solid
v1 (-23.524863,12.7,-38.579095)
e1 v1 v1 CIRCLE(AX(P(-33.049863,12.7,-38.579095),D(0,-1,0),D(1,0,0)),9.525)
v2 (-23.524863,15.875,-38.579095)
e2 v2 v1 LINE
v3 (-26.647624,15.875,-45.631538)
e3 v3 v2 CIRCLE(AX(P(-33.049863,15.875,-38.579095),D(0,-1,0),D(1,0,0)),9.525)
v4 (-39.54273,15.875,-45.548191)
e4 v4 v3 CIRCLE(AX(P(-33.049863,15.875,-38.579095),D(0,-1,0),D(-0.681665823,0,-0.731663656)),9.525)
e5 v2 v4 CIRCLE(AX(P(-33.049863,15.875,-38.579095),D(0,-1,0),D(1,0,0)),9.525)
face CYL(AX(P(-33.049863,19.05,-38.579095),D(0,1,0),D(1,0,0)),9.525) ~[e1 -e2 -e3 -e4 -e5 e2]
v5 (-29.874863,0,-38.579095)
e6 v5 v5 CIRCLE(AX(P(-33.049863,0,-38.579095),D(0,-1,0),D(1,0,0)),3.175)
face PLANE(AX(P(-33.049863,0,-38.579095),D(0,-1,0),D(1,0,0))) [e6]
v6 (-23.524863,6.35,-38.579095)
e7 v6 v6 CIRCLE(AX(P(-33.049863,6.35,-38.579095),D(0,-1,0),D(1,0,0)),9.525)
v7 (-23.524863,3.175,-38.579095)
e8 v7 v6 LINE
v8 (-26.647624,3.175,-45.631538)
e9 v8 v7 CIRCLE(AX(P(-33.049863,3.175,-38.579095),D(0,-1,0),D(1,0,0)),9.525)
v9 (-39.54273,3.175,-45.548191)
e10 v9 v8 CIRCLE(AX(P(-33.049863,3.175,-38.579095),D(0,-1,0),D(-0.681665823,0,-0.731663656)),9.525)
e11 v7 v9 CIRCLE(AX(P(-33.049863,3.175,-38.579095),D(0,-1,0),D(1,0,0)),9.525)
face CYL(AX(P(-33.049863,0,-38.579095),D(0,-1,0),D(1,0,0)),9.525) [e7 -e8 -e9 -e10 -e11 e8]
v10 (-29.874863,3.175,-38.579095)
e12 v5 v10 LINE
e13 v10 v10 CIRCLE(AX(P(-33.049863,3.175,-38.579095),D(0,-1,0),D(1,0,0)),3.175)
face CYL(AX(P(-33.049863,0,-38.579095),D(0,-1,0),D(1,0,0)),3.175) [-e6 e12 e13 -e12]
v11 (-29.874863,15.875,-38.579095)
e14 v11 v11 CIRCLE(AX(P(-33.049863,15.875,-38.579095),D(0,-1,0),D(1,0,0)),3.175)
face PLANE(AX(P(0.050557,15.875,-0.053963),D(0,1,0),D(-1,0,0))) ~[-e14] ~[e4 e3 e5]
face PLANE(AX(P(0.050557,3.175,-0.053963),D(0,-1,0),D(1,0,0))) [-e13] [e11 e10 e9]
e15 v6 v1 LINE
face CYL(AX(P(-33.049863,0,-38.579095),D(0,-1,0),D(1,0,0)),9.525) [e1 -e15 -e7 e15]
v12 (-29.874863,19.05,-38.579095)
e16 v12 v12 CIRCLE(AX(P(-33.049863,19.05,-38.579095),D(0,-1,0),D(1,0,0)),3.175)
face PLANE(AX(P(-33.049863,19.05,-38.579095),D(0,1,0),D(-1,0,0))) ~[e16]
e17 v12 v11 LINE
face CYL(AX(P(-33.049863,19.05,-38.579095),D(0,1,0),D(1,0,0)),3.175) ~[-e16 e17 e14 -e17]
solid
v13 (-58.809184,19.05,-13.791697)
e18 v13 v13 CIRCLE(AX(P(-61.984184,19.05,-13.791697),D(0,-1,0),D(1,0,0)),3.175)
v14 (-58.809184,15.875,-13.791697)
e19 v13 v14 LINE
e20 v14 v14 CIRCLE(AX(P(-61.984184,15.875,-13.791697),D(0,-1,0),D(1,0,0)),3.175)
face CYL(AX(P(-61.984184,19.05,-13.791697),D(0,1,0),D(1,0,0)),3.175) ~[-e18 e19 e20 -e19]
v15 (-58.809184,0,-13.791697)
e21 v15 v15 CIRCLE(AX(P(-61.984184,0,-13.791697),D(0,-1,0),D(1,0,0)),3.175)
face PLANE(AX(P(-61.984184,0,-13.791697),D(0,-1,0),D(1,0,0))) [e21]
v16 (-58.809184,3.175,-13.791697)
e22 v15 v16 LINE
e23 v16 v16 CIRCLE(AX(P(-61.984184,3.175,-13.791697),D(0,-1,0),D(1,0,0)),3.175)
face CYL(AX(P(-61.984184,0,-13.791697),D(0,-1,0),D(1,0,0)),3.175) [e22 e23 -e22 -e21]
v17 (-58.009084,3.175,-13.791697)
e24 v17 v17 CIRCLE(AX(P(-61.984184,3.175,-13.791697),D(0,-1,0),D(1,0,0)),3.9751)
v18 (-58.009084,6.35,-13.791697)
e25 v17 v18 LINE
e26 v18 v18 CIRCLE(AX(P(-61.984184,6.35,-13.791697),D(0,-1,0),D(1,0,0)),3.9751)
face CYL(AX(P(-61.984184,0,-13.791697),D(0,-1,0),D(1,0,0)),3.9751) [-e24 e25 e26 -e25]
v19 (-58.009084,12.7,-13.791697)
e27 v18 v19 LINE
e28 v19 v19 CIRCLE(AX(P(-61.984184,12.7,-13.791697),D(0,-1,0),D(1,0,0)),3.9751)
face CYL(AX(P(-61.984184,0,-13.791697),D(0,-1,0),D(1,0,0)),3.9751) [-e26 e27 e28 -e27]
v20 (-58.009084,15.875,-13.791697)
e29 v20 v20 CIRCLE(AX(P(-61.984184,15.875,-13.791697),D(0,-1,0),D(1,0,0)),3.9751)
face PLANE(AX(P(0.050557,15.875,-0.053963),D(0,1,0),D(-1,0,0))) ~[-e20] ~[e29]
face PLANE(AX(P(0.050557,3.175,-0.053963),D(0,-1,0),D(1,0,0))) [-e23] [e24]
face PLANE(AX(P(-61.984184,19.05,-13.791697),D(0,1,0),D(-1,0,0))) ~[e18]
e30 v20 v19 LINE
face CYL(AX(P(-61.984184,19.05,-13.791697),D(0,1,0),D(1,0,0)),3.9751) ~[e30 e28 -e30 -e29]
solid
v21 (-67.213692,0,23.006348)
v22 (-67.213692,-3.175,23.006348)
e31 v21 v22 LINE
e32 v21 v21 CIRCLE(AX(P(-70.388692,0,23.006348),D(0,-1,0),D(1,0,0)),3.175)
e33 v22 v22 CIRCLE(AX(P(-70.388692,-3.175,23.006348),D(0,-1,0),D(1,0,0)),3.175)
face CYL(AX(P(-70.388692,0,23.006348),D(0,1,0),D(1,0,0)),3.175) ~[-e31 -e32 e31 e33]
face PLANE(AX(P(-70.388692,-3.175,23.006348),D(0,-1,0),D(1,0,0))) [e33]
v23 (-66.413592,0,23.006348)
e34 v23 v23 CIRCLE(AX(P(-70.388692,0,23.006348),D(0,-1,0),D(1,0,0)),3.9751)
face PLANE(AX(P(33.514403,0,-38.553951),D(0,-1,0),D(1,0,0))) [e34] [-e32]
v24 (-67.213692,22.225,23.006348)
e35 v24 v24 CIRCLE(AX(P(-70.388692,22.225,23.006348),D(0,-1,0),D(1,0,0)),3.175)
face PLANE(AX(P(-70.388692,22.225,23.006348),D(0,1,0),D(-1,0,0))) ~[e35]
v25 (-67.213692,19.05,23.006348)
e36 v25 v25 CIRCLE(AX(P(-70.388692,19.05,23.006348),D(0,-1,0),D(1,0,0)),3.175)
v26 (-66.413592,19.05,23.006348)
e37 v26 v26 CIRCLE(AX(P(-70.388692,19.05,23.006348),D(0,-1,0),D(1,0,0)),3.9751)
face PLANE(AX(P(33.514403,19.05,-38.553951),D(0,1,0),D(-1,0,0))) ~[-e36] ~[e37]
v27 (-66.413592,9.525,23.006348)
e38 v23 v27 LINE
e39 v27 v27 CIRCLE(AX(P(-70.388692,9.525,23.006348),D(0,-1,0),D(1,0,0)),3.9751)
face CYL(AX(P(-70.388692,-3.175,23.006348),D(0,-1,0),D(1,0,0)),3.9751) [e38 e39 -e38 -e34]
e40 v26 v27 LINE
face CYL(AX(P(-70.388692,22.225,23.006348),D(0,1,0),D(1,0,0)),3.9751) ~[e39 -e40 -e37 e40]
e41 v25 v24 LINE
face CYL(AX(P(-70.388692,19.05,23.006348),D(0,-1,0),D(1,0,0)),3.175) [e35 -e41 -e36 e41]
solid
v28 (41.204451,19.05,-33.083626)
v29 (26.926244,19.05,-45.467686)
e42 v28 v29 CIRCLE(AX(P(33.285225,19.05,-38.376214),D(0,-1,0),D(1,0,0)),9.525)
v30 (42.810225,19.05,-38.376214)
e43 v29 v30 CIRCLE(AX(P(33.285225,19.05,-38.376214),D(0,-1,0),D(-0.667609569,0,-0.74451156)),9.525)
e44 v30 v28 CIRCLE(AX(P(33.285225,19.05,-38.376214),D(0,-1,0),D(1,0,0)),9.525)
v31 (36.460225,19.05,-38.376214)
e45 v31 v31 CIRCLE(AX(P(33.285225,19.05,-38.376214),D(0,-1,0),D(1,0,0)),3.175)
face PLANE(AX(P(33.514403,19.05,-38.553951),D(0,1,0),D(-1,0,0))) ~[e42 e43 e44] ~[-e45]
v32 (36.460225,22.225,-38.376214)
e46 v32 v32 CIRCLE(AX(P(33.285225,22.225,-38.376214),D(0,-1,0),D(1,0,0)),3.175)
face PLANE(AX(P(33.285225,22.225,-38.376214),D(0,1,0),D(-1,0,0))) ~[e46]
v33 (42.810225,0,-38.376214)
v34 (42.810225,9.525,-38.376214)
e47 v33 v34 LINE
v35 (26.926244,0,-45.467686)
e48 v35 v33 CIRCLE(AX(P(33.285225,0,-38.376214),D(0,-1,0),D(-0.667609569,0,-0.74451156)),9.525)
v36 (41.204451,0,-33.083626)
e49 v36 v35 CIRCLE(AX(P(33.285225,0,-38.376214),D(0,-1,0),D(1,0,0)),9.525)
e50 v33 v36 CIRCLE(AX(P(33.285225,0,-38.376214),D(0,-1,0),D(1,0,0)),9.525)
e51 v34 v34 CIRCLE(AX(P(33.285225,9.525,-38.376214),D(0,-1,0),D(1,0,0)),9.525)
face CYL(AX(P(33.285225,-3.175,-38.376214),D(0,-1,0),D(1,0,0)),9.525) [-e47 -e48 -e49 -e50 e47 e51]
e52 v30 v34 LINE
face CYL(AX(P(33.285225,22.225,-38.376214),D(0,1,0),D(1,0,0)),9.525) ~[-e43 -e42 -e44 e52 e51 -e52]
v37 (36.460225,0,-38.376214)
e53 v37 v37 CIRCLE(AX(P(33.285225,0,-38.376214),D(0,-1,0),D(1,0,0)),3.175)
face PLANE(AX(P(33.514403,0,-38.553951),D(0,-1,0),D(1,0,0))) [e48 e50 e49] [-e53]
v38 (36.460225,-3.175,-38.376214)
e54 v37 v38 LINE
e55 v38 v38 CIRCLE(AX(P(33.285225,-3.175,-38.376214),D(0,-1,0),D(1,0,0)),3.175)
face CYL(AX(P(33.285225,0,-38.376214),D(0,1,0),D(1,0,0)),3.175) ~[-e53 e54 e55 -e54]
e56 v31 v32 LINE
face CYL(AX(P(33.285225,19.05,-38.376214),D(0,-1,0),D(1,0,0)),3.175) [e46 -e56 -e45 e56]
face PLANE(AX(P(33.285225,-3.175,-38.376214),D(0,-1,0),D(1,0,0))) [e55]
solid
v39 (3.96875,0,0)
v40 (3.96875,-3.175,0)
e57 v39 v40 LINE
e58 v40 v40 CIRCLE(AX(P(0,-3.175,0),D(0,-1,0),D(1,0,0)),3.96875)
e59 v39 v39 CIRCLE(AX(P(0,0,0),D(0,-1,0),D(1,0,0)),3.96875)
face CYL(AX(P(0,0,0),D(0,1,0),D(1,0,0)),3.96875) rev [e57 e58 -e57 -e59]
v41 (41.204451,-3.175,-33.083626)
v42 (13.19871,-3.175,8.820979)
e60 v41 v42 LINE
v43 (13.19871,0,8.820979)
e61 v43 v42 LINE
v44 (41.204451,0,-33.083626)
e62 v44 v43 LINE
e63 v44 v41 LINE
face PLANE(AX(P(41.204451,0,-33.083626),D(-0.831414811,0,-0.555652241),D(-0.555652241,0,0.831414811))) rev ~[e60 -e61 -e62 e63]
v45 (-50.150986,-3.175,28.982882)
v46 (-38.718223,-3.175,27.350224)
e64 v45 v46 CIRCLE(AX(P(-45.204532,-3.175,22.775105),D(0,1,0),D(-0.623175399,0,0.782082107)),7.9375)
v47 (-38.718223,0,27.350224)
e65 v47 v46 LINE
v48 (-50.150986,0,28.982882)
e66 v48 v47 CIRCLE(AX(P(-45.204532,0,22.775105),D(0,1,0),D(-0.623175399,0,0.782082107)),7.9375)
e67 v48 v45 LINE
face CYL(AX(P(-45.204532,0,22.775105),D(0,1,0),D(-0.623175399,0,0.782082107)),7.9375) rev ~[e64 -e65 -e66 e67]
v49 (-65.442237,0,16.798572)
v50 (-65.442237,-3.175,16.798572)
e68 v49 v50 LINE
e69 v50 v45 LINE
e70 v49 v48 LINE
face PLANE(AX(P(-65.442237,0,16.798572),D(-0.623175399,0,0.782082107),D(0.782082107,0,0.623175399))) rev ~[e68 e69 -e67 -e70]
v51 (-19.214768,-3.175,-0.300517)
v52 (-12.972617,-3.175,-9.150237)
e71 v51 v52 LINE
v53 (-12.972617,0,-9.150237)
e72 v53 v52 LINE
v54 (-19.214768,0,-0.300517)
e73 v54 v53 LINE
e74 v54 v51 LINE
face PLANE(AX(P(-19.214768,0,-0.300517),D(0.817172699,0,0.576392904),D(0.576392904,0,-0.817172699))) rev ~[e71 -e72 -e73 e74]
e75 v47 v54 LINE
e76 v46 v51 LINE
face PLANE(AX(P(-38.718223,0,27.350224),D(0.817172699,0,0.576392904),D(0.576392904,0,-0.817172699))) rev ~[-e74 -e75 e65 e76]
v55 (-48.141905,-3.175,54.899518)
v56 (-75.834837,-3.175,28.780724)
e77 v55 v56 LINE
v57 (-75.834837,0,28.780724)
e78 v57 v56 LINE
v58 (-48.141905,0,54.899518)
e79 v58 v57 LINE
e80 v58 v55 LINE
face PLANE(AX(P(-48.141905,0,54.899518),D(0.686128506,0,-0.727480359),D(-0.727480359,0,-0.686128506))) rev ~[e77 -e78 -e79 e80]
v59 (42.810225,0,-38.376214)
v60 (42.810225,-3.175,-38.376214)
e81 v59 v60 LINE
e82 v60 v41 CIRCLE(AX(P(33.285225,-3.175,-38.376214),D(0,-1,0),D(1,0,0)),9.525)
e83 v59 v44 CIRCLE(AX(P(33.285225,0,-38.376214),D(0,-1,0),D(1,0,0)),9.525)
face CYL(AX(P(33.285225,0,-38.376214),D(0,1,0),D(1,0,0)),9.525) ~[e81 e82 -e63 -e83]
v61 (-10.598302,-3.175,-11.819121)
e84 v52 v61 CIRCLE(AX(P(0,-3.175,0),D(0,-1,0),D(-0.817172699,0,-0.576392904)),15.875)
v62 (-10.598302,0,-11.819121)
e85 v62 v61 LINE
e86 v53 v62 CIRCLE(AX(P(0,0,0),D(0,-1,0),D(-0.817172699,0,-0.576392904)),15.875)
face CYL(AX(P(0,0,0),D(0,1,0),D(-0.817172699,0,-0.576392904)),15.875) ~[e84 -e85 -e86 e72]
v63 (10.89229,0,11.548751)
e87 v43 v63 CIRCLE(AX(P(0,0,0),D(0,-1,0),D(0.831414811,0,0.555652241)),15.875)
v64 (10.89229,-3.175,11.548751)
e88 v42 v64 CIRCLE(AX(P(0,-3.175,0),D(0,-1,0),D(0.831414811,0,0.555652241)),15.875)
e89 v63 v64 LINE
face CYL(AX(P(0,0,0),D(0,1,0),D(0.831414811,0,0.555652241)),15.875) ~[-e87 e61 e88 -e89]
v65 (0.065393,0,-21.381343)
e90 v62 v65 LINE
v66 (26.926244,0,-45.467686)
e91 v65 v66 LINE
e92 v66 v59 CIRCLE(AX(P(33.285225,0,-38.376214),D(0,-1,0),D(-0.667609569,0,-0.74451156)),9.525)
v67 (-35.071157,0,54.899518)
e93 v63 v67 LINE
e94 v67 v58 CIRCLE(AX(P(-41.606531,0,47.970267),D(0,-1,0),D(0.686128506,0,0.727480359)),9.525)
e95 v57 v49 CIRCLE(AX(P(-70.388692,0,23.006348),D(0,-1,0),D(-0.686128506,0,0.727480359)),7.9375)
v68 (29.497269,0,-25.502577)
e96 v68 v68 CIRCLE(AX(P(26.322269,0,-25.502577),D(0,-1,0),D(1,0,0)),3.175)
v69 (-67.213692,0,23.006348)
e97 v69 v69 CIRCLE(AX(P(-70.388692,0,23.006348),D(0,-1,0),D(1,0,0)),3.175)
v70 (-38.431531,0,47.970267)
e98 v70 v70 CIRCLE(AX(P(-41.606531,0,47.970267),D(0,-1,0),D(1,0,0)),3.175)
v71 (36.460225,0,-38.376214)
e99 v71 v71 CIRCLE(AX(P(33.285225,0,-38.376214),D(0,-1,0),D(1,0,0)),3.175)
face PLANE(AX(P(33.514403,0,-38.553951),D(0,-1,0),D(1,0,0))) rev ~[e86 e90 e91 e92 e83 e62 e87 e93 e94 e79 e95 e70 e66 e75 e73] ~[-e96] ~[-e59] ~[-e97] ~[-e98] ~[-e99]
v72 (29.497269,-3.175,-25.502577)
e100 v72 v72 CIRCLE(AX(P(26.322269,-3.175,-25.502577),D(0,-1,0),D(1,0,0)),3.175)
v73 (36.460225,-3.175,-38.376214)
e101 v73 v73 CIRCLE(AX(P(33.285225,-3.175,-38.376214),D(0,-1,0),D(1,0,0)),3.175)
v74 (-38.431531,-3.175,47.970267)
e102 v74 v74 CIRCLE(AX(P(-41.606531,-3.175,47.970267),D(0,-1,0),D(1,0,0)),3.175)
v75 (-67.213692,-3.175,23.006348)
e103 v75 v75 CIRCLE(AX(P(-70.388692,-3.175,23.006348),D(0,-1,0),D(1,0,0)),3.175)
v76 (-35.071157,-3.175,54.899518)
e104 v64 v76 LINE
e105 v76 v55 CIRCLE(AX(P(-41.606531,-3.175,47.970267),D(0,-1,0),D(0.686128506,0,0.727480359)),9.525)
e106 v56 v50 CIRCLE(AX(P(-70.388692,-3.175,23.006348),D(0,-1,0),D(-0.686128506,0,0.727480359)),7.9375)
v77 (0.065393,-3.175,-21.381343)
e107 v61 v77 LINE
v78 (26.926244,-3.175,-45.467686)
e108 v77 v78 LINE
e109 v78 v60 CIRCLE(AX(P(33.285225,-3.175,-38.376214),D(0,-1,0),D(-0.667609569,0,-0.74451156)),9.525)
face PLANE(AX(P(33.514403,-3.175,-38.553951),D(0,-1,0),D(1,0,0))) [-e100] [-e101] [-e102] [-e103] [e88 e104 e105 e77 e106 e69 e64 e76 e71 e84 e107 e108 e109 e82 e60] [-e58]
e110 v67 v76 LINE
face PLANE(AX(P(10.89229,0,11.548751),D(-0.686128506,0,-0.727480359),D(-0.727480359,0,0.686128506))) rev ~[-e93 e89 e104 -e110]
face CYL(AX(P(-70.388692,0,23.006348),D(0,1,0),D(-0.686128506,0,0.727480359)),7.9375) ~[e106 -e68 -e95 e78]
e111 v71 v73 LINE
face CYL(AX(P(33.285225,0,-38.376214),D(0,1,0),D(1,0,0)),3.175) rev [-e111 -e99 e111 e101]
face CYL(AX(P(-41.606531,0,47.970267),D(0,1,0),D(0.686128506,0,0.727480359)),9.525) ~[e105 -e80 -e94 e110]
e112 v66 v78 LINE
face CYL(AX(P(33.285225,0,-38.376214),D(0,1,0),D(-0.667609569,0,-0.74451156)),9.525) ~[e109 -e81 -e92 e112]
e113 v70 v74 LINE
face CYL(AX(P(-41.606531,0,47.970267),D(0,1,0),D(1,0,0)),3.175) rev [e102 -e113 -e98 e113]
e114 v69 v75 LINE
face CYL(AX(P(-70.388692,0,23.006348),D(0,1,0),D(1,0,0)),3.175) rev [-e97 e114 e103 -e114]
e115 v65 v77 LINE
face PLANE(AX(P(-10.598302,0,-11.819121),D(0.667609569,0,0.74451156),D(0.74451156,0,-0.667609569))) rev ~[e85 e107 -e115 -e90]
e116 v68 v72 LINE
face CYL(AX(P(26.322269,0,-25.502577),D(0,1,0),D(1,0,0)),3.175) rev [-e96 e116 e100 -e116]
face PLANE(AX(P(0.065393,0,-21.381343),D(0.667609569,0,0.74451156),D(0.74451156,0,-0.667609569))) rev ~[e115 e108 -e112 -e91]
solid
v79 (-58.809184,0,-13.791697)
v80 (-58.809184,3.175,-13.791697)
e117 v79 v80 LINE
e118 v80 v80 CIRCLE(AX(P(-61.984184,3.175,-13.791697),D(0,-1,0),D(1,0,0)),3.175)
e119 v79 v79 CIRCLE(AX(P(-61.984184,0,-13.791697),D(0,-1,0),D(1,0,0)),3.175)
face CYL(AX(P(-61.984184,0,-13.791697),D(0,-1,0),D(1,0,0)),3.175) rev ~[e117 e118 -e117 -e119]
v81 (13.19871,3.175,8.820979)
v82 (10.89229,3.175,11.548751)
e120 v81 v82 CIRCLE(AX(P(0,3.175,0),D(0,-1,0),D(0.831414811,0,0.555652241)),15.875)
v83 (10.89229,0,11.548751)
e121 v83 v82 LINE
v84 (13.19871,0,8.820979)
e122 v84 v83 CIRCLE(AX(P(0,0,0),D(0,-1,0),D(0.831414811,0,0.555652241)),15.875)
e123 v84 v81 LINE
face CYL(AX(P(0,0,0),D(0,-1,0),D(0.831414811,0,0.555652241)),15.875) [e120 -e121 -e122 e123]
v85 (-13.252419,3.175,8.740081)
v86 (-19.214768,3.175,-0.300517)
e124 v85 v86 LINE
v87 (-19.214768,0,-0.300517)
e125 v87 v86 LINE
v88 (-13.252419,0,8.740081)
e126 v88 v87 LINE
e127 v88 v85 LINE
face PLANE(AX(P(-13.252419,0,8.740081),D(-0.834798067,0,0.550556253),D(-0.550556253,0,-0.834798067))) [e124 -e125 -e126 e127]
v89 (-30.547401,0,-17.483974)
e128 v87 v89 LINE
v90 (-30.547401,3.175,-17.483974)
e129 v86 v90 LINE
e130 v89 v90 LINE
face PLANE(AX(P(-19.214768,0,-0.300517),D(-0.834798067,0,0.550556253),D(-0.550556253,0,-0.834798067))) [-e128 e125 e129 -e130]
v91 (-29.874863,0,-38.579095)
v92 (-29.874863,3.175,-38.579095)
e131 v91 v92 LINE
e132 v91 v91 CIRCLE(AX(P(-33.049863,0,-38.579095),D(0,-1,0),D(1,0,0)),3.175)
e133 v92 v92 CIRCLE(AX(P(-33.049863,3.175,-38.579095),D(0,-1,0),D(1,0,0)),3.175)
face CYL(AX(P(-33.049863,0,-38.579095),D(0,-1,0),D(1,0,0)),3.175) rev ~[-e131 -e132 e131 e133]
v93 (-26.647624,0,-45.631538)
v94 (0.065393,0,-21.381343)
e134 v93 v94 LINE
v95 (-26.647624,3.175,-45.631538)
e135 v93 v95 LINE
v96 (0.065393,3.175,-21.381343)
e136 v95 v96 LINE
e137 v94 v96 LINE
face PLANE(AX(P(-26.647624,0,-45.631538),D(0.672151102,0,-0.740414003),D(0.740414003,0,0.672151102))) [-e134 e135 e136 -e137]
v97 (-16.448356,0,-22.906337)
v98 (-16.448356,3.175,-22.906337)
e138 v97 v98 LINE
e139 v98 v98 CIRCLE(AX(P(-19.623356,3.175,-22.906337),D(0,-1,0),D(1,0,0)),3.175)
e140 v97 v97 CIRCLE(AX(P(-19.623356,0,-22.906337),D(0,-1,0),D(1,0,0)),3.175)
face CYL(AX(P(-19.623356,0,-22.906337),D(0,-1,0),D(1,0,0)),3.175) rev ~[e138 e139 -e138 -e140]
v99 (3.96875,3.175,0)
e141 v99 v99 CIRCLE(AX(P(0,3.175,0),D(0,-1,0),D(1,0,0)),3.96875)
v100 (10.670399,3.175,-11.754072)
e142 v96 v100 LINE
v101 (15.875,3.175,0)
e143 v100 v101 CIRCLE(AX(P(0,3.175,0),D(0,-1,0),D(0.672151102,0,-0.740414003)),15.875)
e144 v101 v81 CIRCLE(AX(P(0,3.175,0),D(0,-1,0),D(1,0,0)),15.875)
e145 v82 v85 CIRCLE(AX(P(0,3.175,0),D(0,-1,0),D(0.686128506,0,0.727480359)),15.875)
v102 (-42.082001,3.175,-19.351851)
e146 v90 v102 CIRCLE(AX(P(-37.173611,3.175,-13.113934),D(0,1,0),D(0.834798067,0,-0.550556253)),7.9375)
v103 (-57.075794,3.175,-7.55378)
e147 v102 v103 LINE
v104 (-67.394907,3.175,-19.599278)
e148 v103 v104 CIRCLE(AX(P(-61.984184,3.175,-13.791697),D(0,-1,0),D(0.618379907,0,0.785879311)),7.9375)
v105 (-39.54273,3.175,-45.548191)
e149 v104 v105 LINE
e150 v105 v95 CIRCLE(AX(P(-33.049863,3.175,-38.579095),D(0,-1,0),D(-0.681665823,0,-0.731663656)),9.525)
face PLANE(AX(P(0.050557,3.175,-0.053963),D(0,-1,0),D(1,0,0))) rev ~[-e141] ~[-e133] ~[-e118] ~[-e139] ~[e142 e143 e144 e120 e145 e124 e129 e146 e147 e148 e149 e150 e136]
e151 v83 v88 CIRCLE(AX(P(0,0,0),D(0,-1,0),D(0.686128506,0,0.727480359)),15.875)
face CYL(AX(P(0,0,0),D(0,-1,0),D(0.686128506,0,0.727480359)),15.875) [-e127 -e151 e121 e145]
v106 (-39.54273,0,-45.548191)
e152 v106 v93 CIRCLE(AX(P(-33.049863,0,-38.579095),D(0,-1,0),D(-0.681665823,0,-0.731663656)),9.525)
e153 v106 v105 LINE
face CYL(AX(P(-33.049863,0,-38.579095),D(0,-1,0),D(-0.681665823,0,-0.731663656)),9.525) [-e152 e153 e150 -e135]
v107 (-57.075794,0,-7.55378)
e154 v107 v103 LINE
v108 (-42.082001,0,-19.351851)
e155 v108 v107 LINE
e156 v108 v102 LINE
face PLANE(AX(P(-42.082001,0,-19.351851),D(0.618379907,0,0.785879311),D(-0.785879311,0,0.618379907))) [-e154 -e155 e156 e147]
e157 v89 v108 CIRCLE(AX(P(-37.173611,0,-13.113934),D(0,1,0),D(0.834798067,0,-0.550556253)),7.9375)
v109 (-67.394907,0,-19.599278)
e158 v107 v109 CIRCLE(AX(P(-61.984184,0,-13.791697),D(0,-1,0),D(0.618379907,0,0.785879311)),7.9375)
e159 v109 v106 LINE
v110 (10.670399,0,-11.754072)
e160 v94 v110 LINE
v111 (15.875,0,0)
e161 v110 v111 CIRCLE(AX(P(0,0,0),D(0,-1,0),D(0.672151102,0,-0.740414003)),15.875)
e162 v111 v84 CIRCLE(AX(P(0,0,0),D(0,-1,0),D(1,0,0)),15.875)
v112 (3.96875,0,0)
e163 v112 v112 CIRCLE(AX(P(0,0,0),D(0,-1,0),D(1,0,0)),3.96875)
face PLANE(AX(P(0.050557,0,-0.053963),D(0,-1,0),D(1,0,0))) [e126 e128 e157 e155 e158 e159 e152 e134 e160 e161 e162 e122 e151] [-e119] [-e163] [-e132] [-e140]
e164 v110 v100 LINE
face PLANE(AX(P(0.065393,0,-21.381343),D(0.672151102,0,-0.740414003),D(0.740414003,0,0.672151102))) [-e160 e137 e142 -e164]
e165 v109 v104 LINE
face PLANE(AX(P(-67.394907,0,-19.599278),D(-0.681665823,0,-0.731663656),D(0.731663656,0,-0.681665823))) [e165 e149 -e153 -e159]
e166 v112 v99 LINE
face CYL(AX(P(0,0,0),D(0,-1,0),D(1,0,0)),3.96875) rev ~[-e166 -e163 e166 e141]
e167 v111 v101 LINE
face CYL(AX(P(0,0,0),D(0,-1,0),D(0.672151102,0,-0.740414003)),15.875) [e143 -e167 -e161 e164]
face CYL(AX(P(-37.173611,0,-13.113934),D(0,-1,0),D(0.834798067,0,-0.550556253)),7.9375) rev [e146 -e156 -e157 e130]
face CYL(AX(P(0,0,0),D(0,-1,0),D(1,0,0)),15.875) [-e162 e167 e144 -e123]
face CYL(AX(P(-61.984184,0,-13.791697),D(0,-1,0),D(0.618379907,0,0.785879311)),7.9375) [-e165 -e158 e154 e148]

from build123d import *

# Parameters (mm, degrees)
F0_R     = 3.175
F0_R_2   = 3.96875
F2_DEPTH = 3.175
F3_DEPTH = 3.175
F4_R     = 9.525
F6_DEPTH = 12.7
F4_R_2   = 3.9751
F5_R     = 9.525
F5_R_2   = 3.9751


with BuildPart() as f2:
    # F0 (on Front) → F2 (new body)
    with BuildSketch(Plane.XZ):
        with BuildLine():
            ThreePointArc((26.9262440233, -45.4676864135), (37.1682864336, -47.0737686401), (42.8102251661, -38.3762138003))
            ThreePointArc((42.8102251661, -38.3762138003), (42.3999454948, -35.6108027404), (41.2044512386, -33.0836262089))
            ThreePointArc((41.2044512386, -33.0836262089), (27.0442454474, -31.1806737127), (26.9262440233, -45.4676864135))
        make_face()
        with Locations((33.2852251661, -38.3762138003)):
            Circle(F0_R, mode=Mode.SUBTRACT)
        with BuildLine():
            ThreePointArc((-32.0815314576, 47.9702672503), (-32.8608164346, 51.7436071154), (-35.0711574392, 54.8995176744))
            ThreePointArc((-35.0711574392, 54.8995176744), (-41.6065314576, 57.4952672503), (-48.1419054761, 54.8995176744))
            ThreePointArc((-48.1419054761, 54.8995176744), (-45.3798713227, 39.2245522274), (-32.0815314576, 47.9702672503))
        make_face()
        with Locations((-41.6065314576, 47.9702672503)):
            Circle(F0_R, mode=Mode.SUBTRACT)
        with BuildLine():
            ThreePointArc((-62.4511918078, 23.0063483758), (-67.2442419203, 30.2944442282), (-75.8348368232, 28.7807237291))
            ThreePointArc((-75.8348368232, 28.7807237291), (-76.3849752141, 17.8055319436), (-65.4422370763, 16.798571653))
            ThreePointArc((-65.4422370763, 16.798571653), (-63.237943921, 19.5609585706), (-62.4511918078, 23.0063483758))
        make_face()
        with Locations((-70.3886918078, 23.0063483758)):
            Circle(F0_R, mode=Mode.SUBTRACT)
        with BuildLine():
            ThreePointArc((-12.9726166036, -9.1502373442), (-15.8730587934, -0.2482529814), (-13.2524193062, 8.7400805221))
            Line((-13.2524193062, 8.7400805221), (-19.2147683858, -0.3005169703))
            Line((-19.2147683858, -0.3005169703), (-12.9726166036, -9.1502373442))
        make_face()
        with BuildLine():
            Line((-10.5983019047, -11.8191210221), (0.0653932355, -21.3813431455))
            Line((0.0653932355, -21.3813431455), (10.6703987497, -11.7540722953))
            ThreePointArc((10.6703987497, -11.7540722953), (0.0485522706, -15.8749257534), (-10.5983019047, -11.8191210221))
        make_face()
        with BuildLine():
            ThreePointArc((26.9262440233, -45.4676864135), (27.0442454474, -31.1806737127), (41.2044512386, -33.0836262089))
            Line((41.2044512386, -33.0836262089), (13.1987101208, 8.820979319))
            ThreePointArc((13.1987101208, 8.820979319), (15.1912005478, 4.609018433), (15.875, 0))
            ThreePointArc((15.875, 0), (14.5156502636, -6.4274040191), (10.6703987497, -11.7540722953))
            Line((10.6703987497, -11.7540722953), (0.0653932355, -21.3813431455))
            Line((0.0653932355, -21.3813431455), (26.9262440233, -45.4676864135))
        make_face()
        with Locations((26.3222689506, -25.5025770961)):
            Circle(F0_R, mode=Mode.SUBTRACT)
        with BuildLine():
            ThreePointArc((-13.2524193062, 8.7400805221), (-1.834314477, 15.7686687897), (10.8922900307, 11.5487507067))
            Line((10.8922900307, 11.5487507067), (-35.0711574392, 54.8995176744))
            ThreePointArc((-35.0711574392, 54.8995176744), (-32.8608164346, 51.7436071154), (-32.0815314576, 47.9702672503))
            ThreePointArc((-32.0815314576, 47.9702672503), (-45.3798713227, 39.2245522274), (-48.1419054761, 54.8995176744))
            Line((-48.1419054761, 54.8995176744), (-75.8348368232, 28.7807237291))
            ThreePointArc((-75.8348368232, 28.7807237291), (-67.2442419203, 30.2944442282), (-62.4511918078, 23.0063483758))
            ThreePointArc((-62.4511918078, 23.0063483758), (-63.237943921, 19.5609585706), (-65.4422370763, 16.798571653))
            Line((-65.4422370763, 16.798571653), (-50.1509863937, 28.9828821829))
            ThreePointArc((-50.1509863937, 28.9828821829), (-44.0823996147, 30.6328866939), (-38.7182233604, 27.3502241323))
            Line((-38.7182233604, 27.3502241323), (-19.2147683858, -0.3005169703))
            Line((-19.2147683858, -0.3005169703), (-13.2524193062, 8.7400805221))
        make_face()
        with BuildLine():
            ThreePointArc((15.875, 0), (15.1912005478, 4.609018433), (13.1987101208, 8.820979319))
            ThreePointArc((13.1987101208, 8.820979319), (12.1224690662, 10.2499448164), (10.8922900307, 11.5487507067))
            ThreePointArc((10.8922900307, 11.5487507067), (-1.834314477, 15.7686687897), (-13.2524193062, 8.7400805221))
            ThreePointArc((-13.2524193062, 8.7400805221), (-15.8730587934, -0.2482529814), (-12.9726166036, -9.1502373442))
            ThreePointArc((-12.9726166036, -9.1502373442), (-11.8607666217, -10.5516747555), (-10.5983019047, -11.8191210221))
            ThreePointArc((-10.5983019047, -11.8191210221), (0.0485522706, -15.8749257534), (10.6703987497, -11.7540722953))
            ThreePointArc((10.6703987497, -11.7540722953), (14.5156502636, -6.4274040191), (15.875, 0))
        make_face()
        Circle(F0_R_2, mode=Mode.SUBTRACT)
    extrude(amount=F2_DEPTH)


with BuildPart() as f3:
    # F0 (on Front) → F3 (new body)
    with BuildSketch(Plane.XZ):
        with BuildLine():
            ThreePointArc((15.875, 0), (15.1912005478, 4.609018433), (13.1987101208, 8.820979319))
            ThreePointArc((13.1987101208, 8.820979319), (12.1224690662, 10.2499448164), (10.8922900307, 11.5487507067))
            ThreePointArc((10.8922900307, 11.5487507067), (-1.834314477, 15.7686687897), (-13.2524193062, 8.7400805221))
            ThreePointArc((-13.2524193062, 8.7400805221), (-15.8730587934, -0.2482529814), (-12.9726166036, -9.1502373442))
            ThreePointArc((-12.9726166036, -9.1502373442), (-11.8607666217, -10.5516747555), (-10.5983019047, -11.8191210221))
            ThreePointArc((-10.5983019047, -11.8191210221), (0.0485522706, -15.8749257534), (10.6703987497, -11.7540722953))
            ThreePointArc((10.6703987497, -11.7540722953), (14.5156502636, -6.4274040191), (15.875, 0))
        make_face()
        Circle(F0_R_2, mode=Mode.SUBTRACT)
        with BuildLine():
            Line((-10.5983019047, -11.8191210221), (0.0653932355, -21.3813431455))
            Line((0.0653932355, -21.3813431455), (10.6703987497, -11.7540722953))
            ThreePointArc((10.6703987497, -11.7540722953), (0.0485522706, -15.8749257534), (-10.5983019047, -11.8191210221))
        make_face()
        with BuildLine():
            ThreePointArc((-12.9726166036, -9.1502373442), (-15.8730587934, -0.2482529814), (-13.2524193062, 8.7400805221))
            Line((-13.2524193062, 8.7400805221), (-19.2147683858, -0.3005169703))
            Line((-19.2147683858, -0.3005169703), (-12.9726166036, -9.1502373442))
        make_face()
        with BuildLine():
            Line((-26.647623873, -45.6315380732), (0.0653932355, -21.3813431455))
            Line((0.0653932355, -21.3813431455), (-10.5983019047, -11.8191210221))
            ThreePointArc((-10.5983019047, -11.8191210221), (-11.8607666217, -10.5516747555), (-12.9726166036, -9.1502373442))
            Line((-12.9726166036, -9.1502373442), (-19.2147683858, -0.3005169703))
            Line((-19.2147683858, -0.3005169703), (-30.5474012326, -17.4839744853))
            ThreePointArc((-30.5474012326, -17.4839744853), (-35.9047663103, -20.9493627188), (-42.0820013957, -19.3518512525))
            Line((-42.0820013957, -19.3518512525), (-57.0757936348, -7.5537803256))
            ThreePointArc((-57.0757936348, -7.5537803256), (-54.8440071189, -10.3244537385), (-54.0466841448, -13.7916973539))
            ThreePointArc((-54.0466841448, -13.7916973539), (-58.817458973, -21.070142101), (-67.394906617, -19.5992776228))
            Line((-67.394906617, -19.5992776228), (-39.5427300894, -45.5481910186))
            ThreePointArc((-39.5427300894, -45.5481910186), (-36.849933329, -29.8449609995), (-23.5248631228, -38.579094696))
            ThreePointArc((-23.5248631228, -38.579094696), (-24.3404729646, -42.4355371074), (-26.647623873, -45.6315380732))
        make_face()
        with Locations((-19.6233562292, -22.9063374758)):
            Circle(F0_R, mode=Mode.SUBTRACT)
        with BuildLine():
            ThreePointArc((-39.5427300894, -45.5481910186), (-33.1114263313, -48.1038957423), (-26.647623873, -45.6315380732))
            ThreePointArc((-26.647623873, -45.6315380732), (-24.3404729646, -42.4355371074), (-23.5248631228, -38.579094696))
            ThreePointArc((-23.5248631228, -38.579094696), (-36.849933329, -29.8449609995), (-39.5427300894, -45.5481910186))
        make_face()
        with Locations((-33.0498631228, -38.579094696)):
            Circle(F0_R, mode=Mode.SUBTRACT)
        with BuildLine():
            ThreePointArc((-57.0757936348, -7.5537803256), (-68.0121676911, -8.627656241), (-67.394906617, -19.5992776228))
            ThreePointArc((-67.394906617, -19.5992776228), (-58.817458973, -21.070142101), (-54.0466841448, -13.7916973539))
            ThreePointArc((-54.0466841448, -13.7916973539), (-54.8440071189, -10.3244537385), (-57.0757936348, -7.5537803256))
        make_face()
        with Locations((-61.9841841448, -13.7916973539)):
            Circle(F0_R, mode=Mode.SUBTRACT)
    extrude(amount=-F3_DEPTH)


with BuildPart() as f6:
    # F4 (on face) → F6 (new body, through all)
    with BuildSketch(Plane.XZ.offset(3.175)):
        with Locations((33.2852251661, -38.3762138003)):
            Circle(F4_R)
    extrude(amount=-F6_DEPTH)

    # F7: cut F2, F3
    add(f2.part, mode=Mode.SUBTRACT)
    add(f3.part, mode=Mode.SUBTRACT)



with BuildPart() as f6b:
    # F4 (on face) → F6, piece 2 (new body, through all)
    with BuildSketch(Plane.XZ.offset(3.175)):
        with Locations((-70.3886918078, 23.0063483758)):
            Circle(F4_R_2)
    extrude(amount=-F6_DEPTH)

    # F7: cut F2, F3
    add(f2.part, mode=Mode.SUBTRACT)
    add(f3.part, mode=Mode.SUBTRACT)


with BuildPart() as f6c:
    # F5 (on face) → F6, piece 3 (new body, through all)
    with BuildSketch(Plane.XZ):
        with Locations((-33.0498631228, -38.579094696)):
            Circle(F5_R)
    extrude(amount=-F6_DEPTH)

    # F7: cut F2, F3
    add(f2.part, mode=Mode.SUBTRACT)
    add(f3.part, mode=Mode.SUBTRACT)


with BuildPart() as f6d:
    # F5 (on face) → F6, piece 4 (new body, through all)
    with BuildSketch(Plane.XZ):
        with Locations((-61.9841841448, -13.7916973539)):
            Circle(F5_R_2)
    extrude(amount=-F6_DEPTH)

    # F7: cut F2, F3
    add(f2.part, mode=Mode.SUBTRACT)
    add(f3.part, mode=Mode.SUBTRACT)


with BuildPart() as f6_1:
    add(f6.part)

    add(f6b.part)  # F8 merges F6b

    add(f6c.part)  # F8 merges F6c

    add(f6d.part)  # F8 merges F6d
    # F8: F6, F6b, F6c, F6d across plane
    add(f6.part.mirror(Plane.XZ.offset(-9.525)))
    add(f6b.part.mirror(Plane.XZ.offset(-9.525)))
    add(f6c.part.mirror(Plane.XZ.offset(-9.525)))
    add(f6d.part.mirror(Plane.XZ.offset(-9.525)))


solid = Compound([f2.part, f3.part, f6_1.part])
